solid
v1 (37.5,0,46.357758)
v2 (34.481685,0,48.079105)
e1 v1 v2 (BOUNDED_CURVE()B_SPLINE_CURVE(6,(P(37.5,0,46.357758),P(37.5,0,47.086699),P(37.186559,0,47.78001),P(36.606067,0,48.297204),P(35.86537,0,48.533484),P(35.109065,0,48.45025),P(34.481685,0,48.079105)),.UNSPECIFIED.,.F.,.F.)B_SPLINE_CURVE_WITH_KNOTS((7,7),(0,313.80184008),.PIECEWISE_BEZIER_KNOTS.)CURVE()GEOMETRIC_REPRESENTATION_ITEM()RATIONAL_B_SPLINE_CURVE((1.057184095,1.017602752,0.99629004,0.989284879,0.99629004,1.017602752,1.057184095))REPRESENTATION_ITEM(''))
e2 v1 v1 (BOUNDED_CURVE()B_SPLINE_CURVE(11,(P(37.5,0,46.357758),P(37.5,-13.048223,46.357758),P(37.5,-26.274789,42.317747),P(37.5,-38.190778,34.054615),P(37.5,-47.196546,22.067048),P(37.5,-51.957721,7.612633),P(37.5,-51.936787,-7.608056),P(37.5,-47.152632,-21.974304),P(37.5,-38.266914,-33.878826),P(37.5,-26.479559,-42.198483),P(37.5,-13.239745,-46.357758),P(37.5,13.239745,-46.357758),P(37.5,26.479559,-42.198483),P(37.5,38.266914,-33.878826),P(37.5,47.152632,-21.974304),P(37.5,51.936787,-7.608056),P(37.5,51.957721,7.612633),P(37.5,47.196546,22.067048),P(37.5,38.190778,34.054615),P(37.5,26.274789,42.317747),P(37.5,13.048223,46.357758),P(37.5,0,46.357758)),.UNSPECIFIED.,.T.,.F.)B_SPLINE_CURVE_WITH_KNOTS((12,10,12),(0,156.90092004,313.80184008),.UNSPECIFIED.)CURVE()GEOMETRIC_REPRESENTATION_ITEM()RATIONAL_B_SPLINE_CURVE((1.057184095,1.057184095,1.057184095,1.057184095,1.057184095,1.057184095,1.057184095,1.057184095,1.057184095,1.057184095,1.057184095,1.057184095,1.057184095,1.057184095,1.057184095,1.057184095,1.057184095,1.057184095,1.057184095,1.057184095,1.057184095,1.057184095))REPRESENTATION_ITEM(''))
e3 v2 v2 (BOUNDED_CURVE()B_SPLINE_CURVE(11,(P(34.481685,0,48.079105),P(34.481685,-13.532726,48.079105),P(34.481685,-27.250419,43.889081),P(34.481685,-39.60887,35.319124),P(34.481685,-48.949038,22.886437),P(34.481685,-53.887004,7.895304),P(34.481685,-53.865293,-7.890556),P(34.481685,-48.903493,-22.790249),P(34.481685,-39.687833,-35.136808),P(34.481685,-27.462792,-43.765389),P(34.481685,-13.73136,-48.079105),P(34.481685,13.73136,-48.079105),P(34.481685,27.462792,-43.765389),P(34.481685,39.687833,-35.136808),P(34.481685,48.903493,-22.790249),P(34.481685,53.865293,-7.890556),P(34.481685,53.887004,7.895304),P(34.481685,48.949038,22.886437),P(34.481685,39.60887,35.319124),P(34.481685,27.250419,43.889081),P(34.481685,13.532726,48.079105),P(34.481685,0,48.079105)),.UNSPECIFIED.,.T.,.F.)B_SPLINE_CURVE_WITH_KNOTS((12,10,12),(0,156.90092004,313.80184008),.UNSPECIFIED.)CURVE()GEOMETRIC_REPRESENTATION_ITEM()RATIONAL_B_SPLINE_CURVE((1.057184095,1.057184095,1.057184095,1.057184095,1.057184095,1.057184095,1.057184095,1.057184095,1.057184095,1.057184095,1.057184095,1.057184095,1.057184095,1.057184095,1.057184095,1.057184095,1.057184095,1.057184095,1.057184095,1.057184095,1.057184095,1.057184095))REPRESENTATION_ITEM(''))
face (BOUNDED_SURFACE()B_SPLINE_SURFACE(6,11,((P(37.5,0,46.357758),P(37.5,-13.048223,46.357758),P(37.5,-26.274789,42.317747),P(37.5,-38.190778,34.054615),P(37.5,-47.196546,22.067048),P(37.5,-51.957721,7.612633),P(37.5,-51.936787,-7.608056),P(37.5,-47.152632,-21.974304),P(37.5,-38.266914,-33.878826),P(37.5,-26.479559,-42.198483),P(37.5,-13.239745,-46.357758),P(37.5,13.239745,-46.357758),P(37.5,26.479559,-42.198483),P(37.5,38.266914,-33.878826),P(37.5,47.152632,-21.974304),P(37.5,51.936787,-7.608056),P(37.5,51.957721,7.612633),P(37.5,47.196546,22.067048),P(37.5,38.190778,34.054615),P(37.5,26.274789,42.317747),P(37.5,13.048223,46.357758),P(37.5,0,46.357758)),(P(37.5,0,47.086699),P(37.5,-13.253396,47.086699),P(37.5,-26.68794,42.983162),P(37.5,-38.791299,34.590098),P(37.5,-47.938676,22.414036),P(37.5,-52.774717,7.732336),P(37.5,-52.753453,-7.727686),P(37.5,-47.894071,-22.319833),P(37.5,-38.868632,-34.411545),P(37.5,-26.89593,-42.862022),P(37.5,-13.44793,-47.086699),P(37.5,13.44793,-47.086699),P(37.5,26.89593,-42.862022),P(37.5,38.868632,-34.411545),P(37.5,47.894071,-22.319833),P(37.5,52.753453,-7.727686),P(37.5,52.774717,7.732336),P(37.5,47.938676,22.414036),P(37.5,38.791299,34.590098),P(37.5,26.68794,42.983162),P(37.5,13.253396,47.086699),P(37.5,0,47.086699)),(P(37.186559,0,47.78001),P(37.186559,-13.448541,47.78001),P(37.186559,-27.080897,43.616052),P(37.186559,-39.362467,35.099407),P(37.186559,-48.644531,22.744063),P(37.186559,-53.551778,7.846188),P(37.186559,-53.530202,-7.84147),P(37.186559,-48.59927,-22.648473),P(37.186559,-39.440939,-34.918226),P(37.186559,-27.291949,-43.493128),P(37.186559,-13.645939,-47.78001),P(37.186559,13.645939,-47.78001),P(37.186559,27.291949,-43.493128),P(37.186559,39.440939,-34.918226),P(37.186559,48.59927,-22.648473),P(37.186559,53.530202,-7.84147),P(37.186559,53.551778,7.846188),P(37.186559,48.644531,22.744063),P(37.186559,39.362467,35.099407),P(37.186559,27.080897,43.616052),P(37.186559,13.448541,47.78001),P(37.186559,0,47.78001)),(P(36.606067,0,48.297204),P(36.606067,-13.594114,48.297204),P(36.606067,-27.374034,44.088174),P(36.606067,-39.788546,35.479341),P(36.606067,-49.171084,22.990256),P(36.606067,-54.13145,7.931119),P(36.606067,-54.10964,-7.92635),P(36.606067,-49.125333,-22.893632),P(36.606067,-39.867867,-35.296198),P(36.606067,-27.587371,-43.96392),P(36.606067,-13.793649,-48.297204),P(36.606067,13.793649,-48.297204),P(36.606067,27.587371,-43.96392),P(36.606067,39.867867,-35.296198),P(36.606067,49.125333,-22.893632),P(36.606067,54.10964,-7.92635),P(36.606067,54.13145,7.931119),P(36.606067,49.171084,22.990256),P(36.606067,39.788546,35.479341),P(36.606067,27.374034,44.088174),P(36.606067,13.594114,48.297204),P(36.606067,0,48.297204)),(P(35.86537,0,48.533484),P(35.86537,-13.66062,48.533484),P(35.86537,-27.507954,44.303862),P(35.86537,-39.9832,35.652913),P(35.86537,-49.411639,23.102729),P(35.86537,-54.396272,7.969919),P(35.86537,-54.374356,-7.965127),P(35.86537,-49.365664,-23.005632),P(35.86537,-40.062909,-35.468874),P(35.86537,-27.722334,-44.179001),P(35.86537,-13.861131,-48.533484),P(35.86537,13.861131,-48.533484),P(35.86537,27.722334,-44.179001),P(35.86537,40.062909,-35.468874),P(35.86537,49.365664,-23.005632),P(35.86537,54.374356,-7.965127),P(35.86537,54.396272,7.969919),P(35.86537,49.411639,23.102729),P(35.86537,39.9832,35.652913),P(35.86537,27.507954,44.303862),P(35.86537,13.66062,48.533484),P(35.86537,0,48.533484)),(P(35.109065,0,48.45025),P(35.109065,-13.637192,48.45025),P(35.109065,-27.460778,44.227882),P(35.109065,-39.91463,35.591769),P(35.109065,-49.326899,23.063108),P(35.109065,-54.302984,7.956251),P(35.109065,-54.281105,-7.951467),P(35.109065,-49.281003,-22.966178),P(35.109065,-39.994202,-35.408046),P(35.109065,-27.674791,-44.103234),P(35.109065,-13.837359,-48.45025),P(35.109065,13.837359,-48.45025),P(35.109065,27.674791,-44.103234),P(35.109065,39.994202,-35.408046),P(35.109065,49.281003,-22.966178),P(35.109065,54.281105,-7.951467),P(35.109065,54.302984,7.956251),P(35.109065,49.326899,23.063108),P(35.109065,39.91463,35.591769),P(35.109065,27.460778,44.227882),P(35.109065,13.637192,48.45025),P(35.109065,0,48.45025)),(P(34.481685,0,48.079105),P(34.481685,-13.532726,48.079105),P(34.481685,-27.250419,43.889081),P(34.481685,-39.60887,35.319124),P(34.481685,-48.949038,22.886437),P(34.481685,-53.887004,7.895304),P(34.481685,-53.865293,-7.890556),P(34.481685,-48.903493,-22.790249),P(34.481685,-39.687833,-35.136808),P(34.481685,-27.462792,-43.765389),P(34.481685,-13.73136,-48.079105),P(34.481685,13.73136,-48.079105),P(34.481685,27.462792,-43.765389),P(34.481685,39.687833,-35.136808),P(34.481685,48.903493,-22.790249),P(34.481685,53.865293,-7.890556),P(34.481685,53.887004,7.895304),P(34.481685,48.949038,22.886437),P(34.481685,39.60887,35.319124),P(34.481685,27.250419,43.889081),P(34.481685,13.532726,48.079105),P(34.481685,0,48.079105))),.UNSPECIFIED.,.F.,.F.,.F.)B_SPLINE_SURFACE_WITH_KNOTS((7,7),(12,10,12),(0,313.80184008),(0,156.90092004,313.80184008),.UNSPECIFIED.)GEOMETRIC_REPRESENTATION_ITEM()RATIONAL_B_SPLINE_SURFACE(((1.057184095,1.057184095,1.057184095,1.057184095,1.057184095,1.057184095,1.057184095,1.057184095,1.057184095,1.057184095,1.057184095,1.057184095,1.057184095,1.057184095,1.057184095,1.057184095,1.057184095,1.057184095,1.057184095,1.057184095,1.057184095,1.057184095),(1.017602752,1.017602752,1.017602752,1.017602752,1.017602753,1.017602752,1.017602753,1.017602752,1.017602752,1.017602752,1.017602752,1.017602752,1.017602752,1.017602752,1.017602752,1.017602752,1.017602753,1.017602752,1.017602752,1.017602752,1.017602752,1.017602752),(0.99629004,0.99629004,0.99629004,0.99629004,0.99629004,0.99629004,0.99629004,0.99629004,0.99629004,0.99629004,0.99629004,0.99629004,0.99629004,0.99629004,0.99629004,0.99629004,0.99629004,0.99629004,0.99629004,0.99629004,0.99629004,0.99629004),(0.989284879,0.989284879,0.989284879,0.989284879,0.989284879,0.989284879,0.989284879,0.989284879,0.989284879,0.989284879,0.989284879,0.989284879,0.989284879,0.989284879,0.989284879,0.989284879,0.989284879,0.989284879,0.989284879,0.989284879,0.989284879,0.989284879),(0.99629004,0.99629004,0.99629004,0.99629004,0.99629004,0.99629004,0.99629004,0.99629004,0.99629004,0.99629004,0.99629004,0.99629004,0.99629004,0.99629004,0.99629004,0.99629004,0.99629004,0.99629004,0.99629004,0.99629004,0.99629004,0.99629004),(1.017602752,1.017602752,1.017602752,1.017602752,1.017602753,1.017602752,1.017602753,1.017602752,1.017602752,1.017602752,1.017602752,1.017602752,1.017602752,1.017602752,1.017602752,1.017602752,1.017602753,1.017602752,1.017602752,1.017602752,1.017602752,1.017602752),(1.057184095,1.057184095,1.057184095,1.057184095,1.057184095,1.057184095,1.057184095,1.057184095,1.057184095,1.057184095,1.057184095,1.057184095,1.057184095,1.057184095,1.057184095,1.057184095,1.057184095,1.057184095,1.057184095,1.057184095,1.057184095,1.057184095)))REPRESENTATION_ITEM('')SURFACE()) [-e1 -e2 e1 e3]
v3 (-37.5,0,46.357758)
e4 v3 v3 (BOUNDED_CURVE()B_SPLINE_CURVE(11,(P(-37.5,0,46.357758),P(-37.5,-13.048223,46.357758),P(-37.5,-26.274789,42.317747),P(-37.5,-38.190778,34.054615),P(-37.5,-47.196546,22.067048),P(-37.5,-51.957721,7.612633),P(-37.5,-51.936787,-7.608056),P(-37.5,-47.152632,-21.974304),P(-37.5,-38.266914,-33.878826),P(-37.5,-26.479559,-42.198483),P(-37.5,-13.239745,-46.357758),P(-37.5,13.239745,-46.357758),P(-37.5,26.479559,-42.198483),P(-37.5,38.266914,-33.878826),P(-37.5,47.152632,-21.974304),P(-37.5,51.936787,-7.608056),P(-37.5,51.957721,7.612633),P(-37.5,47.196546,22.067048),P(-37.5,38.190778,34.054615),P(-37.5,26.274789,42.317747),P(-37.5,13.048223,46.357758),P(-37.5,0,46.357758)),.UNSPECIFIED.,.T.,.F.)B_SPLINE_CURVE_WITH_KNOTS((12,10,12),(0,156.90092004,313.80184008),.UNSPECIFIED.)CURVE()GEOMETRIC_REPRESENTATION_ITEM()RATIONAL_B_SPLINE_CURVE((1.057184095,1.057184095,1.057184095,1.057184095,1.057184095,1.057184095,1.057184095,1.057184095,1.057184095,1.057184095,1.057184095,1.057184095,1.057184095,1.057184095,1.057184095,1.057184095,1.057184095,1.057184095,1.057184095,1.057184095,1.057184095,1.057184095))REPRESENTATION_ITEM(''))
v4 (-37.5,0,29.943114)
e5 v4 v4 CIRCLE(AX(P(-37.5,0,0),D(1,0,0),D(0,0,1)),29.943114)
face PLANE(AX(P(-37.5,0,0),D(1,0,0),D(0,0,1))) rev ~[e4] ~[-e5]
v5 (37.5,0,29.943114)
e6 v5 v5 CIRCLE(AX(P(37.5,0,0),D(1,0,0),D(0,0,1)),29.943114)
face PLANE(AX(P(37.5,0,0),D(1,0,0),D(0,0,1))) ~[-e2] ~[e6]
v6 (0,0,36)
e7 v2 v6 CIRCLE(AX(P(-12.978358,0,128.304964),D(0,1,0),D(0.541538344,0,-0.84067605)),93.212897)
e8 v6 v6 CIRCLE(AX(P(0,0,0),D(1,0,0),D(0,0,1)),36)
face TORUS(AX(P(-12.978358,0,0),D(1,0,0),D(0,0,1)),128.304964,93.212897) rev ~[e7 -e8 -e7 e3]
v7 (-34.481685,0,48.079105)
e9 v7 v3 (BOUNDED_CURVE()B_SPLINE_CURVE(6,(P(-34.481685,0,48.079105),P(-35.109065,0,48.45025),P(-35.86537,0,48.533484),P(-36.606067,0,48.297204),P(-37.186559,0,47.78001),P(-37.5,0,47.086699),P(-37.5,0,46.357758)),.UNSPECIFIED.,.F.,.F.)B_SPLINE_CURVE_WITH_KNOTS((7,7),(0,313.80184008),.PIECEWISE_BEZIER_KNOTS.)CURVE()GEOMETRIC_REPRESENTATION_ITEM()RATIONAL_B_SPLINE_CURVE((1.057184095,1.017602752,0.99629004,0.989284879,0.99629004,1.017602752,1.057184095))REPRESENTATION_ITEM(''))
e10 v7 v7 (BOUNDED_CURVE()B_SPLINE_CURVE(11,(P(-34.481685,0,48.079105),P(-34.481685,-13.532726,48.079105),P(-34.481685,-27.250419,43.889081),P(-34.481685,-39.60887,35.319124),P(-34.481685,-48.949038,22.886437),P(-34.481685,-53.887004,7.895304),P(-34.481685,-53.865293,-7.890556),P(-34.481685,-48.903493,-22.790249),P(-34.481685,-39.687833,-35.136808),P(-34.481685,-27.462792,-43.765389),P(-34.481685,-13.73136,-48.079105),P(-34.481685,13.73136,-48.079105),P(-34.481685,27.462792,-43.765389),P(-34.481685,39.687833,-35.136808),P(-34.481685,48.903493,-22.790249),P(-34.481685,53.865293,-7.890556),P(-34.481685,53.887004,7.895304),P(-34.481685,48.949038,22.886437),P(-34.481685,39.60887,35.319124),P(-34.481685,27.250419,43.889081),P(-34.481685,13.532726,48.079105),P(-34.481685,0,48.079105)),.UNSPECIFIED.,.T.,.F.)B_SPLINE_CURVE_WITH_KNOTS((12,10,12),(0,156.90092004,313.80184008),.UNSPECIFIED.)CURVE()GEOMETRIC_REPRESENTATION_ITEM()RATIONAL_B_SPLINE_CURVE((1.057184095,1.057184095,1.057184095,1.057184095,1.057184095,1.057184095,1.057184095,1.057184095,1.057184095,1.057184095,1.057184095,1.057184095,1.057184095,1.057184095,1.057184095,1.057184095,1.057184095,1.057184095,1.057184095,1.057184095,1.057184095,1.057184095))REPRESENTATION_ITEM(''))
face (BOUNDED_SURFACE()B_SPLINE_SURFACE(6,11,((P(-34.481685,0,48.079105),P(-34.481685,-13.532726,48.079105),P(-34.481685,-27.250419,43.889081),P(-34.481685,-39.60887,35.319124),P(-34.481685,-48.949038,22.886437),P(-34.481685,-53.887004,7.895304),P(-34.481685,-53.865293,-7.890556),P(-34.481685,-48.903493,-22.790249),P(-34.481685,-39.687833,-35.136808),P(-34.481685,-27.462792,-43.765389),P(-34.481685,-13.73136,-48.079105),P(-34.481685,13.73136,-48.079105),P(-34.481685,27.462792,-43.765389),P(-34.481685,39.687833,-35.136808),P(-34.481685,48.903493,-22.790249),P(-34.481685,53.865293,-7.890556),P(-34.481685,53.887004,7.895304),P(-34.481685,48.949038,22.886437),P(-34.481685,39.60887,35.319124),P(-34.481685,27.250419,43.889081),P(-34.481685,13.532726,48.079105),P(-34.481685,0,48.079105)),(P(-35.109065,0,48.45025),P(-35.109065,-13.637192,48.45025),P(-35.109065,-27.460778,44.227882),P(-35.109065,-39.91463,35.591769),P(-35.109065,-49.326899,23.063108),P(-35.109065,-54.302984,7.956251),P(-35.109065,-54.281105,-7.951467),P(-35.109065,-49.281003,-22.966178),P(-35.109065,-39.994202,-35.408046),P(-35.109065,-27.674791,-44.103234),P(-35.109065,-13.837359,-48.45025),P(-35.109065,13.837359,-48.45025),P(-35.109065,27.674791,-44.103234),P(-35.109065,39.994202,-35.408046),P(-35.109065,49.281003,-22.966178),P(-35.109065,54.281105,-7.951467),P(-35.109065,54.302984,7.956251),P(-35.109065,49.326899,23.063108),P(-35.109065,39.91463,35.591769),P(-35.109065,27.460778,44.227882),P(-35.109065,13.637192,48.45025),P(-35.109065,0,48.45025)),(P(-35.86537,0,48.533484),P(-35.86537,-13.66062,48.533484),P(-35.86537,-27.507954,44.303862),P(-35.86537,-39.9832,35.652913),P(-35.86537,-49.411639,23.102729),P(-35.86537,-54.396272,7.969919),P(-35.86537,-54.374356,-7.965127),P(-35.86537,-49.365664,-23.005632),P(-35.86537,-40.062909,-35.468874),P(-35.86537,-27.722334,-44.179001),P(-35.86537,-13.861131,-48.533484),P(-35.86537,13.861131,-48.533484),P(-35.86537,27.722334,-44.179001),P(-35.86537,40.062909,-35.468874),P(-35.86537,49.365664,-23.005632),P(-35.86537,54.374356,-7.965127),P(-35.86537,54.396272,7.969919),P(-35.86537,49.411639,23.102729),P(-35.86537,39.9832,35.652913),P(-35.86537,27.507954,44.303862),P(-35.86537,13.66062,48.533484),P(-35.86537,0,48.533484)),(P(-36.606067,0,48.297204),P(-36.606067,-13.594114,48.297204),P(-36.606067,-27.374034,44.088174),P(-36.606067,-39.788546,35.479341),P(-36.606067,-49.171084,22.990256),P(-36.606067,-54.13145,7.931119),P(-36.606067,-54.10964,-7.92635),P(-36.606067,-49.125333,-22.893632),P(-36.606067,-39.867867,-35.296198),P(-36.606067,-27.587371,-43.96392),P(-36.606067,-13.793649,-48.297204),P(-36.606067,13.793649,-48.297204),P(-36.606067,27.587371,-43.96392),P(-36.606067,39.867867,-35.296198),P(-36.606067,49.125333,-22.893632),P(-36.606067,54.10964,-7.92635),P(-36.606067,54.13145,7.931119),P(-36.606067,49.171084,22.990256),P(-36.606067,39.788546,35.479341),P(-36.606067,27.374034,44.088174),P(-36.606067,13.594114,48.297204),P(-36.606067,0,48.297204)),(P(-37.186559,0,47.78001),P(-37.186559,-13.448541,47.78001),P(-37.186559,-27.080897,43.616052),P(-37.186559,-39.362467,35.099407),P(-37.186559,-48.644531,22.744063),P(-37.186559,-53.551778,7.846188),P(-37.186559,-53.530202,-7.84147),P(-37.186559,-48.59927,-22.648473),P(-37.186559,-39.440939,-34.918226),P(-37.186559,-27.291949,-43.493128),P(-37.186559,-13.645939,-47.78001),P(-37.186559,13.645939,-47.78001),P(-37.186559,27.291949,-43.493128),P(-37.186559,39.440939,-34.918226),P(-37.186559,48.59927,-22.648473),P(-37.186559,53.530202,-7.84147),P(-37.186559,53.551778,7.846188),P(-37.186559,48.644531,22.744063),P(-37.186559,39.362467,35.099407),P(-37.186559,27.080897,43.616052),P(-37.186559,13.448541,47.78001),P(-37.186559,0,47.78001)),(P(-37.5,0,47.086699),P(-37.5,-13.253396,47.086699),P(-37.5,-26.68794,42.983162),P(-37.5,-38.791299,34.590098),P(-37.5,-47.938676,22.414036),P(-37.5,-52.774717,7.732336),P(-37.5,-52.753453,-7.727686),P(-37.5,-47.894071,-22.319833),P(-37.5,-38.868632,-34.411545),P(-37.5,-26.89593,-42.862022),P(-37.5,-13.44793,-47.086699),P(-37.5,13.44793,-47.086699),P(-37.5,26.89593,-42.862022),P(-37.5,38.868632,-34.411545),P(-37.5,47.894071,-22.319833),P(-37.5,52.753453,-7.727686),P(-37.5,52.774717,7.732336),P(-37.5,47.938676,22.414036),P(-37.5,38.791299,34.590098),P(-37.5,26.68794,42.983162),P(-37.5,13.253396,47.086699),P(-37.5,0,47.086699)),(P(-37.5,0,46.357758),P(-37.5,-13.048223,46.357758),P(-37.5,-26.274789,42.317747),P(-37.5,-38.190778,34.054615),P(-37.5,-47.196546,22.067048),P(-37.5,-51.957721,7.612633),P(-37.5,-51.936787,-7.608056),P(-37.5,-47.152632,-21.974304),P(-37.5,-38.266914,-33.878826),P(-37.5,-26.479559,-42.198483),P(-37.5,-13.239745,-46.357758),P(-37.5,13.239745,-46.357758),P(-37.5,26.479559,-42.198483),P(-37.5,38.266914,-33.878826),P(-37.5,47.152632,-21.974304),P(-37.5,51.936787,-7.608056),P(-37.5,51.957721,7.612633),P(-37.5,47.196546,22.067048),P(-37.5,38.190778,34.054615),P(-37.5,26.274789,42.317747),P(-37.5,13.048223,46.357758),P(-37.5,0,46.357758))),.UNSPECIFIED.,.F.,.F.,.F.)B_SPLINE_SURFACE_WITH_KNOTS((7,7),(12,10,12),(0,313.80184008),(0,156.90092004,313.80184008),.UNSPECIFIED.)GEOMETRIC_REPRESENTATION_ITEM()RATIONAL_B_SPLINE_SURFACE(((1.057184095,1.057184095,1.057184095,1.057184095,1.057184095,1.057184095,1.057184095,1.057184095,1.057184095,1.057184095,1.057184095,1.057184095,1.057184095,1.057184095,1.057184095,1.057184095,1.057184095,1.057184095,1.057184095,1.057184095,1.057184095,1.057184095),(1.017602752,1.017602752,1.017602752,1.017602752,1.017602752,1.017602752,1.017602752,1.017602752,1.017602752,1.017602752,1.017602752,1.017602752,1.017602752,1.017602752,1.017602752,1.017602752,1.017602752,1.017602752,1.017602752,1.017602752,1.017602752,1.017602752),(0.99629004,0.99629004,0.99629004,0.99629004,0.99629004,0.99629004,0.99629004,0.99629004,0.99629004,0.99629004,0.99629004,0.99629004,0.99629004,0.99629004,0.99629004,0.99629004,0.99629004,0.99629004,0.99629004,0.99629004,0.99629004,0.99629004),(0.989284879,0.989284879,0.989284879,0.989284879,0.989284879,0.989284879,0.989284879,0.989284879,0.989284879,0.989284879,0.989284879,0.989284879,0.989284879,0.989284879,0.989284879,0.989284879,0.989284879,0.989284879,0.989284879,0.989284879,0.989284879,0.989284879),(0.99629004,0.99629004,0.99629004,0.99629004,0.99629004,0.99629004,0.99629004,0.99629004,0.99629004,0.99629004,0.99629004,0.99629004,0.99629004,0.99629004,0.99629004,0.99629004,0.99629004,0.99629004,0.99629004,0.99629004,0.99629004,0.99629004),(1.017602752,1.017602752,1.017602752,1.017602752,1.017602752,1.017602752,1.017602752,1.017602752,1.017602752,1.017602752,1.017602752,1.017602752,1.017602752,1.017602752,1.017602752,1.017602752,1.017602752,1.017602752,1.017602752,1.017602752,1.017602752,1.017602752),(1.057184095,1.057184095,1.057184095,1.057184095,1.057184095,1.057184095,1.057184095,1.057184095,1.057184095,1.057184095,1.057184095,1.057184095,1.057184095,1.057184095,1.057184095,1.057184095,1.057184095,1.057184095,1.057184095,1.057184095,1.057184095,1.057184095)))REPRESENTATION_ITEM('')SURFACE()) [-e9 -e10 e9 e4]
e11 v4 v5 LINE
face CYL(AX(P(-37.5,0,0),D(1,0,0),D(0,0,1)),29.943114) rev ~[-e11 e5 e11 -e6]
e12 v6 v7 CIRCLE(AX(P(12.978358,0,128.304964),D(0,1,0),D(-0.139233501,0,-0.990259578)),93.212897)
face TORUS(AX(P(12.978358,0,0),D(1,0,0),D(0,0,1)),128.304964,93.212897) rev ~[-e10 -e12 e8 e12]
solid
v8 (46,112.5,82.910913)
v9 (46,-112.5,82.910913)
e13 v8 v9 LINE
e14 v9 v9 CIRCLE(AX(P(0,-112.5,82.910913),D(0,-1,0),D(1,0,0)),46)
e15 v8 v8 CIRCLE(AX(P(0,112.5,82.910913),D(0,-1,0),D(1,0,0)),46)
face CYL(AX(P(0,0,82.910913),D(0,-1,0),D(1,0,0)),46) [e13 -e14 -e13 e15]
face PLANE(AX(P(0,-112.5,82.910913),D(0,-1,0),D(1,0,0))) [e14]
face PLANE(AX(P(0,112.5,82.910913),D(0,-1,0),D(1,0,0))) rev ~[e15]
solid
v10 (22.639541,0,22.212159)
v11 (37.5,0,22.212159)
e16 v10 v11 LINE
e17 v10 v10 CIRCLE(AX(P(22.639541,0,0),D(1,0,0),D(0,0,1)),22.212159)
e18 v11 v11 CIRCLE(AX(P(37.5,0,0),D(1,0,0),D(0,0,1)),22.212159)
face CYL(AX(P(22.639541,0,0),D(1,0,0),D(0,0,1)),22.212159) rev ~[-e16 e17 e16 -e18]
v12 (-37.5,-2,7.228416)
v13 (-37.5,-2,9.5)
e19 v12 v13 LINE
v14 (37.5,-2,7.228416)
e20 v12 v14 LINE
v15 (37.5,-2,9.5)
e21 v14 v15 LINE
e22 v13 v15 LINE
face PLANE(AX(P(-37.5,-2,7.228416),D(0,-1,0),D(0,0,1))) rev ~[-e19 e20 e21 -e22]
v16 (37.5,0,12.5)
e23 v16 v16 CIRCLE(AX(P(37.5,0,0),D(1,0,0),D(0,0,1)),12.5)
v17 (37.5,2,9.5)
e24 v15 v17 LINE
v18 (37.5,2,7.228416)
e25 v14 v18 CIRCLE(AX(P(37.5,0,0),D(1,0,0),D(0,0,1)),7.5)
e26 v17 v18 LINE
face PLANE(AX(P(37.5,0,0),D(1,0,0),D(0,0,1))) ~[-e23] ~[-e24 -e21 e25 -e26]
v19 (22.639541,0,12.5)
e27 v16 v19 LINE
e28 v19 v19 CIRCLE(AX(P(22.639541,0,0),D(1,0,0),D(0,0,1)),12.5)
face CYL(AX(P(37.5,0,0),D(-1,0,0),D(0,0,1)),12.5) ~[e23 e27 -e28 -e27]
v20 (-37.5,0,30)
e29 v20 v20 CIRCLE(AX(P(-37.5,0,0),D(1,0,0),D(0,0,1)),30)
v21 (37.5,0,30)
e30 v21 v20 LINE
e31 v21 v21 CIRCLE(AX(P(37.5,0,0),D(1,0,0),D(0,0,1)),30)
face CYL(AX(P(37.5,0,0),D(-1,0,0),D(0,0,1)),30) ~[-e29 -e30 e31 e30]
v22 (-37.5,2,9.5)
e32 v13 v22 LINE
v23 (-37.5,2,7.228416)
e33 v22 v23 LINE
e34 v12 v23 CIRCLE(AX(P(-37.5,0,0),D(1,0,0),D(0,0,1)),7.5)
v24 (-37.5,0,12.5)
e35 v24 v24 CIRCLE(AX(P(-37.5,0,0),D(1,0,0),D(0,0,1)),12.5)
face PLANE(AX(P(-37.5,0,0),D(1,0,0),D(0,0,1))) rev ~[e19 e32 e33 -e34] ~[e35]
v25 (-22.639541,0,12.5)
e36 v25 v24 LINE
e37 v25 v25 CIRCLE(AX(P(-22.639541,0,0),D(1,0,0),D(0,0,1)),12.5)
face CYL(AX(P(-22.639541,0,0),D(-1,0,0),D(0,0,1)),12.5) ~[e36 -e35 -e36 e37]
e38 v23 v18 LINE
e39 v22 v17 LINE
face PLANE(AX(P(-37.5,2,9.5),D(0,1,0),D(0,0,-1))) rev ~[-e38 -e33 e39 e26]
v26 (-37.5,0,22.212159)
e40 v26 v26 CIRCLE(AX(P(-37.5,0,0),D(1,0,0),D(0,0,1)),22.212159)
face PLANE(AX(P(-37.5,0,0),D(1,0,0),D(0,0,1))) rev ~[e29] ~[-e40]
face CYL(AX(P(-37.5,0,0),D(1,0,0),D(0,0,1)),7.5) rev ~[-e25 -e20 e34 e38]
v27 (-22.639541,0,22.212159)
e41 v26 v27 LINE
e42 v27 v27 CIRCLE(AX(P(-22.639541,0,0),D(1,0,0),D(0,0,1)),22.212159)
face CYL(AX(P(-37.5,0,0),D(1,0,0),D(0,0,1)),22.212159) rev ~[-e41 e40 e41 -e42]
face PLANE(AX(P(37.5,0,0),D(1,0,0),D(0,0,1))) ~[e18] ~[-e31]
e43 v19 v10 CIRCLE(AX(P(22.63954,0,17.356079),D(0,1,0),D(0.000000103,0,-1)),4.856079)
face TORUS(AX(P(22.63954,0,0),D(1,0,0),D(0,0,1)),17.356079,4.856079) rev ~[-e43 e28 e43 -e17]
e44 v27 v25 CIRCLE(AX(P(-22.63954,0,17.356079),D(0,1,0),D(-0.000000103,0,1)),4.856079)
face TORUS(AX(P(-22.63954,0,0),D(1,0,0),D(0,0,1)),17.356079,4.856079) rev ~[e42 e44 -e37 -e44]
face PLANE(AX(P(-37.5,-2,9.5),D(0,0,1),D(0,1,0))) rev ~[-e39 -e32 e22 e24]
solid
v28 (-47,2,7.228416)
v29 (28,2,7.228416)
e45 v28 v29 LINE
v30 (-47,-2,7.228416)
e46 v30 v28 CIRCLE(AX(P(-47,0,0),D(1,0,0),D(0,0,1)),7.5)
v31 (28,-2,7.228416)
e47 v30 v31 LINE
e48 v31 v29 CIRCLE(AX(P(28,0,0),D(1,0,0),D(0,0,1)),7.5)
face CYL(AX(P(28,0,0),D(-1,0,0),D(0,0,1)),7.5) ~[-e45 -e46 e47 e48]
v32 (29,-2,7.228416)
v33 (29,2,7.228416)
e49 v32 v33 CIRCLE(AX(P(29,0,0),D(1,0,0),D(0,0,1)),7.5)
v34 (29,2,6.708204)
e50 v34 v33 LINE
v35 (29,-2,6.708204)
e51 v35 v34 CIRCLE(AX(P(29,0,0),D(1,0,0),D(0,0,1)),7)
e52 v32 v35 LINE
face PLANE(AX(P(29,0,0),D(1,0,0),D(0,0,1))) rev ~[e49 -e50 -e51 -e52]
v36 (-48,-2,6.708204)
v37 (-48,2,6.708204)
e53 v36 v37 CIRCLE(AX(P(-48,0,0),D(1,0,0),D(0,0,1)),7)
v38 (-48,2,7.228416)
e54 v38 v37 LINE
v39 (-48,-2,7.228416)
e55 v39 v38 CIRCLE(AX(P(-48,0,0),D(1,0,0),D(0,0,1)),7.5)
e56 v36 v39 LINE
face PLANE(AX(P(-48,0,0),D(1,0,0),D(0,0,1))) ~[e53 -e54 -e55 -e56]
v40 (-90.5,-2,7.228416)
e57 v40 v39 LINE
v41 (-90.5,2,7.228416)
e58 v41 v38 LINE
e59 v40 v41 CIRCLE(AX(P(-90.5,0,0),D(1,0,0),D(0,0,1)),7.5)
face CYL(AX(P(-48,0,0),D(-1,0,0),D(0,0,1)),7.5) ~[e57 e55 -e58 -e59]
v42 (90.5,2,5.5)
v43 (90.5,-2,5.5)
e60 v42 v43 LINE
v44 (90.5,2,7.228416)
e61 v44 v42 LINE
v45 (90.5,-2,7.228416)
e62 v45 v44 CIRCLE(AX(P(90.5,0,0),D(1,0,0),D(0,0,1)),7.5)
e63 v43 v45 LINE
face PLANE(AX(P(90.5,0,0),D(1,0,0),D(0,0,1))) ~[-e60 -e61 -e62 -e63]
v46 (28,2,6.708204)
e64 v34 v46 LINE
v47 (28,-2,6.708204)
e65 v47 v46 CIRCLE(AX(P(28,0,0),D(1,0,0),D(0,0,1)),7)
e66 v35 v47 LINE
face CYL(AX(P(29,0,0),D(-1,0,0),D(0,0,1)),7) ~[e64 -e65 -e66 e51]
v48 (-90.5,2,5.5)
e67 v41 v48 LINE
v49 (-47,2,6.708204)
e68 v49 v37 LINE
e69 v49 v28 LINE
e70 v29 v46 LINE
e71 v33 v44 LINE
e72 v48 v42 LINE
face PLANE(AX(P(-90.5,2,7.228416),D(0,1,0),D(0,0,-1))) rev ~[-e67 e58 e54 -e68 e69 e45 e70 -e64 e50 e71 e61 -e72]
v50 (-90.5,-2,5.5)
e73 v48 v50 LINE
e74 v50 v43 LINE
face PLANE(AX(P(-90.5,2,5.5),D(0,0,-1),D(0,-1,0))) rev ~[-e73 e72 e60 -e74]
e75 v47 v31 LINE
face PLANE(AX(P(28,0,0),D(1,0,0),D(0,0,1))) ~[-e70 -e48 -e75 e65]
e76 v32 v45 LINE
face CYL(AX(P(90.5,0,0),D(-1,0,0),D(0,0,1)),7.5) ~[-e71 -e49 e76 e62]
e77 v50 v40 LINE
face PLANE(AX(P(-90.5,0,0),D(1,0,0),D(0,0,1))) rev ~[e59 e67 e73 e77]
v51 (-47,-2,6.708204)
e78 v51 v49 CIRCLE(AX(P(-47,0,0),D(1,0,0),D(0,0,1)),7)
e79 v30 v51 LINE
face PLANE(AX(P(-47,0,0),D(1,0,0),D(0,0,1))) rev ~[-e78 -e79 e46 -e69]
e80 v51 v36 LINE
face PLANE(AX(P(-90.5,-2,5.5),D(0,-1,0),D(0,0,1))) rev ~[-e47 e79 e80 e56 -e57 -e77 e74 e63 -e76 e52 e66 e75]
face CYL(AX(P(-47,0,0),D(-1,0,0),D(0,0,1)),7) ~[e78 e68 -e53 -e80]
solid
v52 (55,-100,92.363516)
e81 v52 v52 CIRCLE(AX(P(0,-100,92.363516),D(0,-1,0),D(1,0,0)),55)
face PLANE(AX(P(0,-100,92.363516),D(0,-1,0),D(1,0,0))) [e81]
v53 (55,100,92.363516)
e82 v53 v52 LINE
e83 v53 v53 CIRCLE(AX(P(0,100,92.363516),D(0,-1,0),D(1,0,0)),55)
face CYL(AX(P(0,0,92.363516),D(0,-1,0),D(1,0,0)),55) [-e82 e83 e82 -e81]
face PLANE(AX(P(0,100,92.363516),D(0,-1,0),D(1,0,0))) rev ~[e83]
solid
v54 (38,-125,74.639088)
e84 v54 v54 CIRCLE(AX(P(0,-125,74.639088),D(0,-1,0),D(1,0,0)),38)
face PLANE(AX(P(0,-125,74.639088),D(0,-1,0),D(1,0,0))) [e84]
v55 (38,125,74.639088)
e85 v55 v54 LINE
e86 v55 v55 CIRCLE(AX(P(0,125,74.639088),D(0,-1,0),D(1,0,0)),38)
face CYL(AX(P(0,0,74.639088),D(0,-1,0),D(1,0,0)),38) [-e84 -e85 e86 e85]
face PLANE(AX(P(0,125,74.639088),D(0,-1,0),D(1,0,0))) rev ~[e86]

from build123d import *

# Parameters (mm, degrees)
F3_DEPTH  = 181.001
F7_DEPTH  = 128.001
F10_R     = 2
F11_R     = 38
F12_DEPTH = 125
F13_R     = 46
F14_DEPTH = 112.5
F15_R     = 55
F16_DEPTH = 100


with BuildPart() as f1:
    # F0 (on Front) → F1 (revolve)
    with BuildSketch(Plane.XZ):
        Polygon((-90.5, 7.5), (-90.5, 0), (90.5, 0), (90.5, 7.5), (29, 7.5), (29, 7), (28, 7), (28, 7.5), (-47, 7.5), (-47, 7), (-48, 7), (-48, 7.5), align=None)
    revolve(axis=Axis((0, 0, 0), (1, 0, 0)))

    # F2 (on face) → F3 (cut, through all)
    with BuildSketch(Plane(origin=(-90.5, 0, 0), x_dir=(0, -1, 0), z_dir=(-1, 0, 0))):
        with BuildLine():
            ThreePointArc((2, 7.228416), (0, 7.5), (-2, 7.228416))
            Line((-2, 7.228416), (-2, 5.5))
            Line((-2, 5.5), (2, 5.5))
            Line((2, 5.5), (2, 7.228416))
        make_face()
    extrude(amount=-F3_DEPTH, mode=Mode.SUBTRACT)


with BuildPart() as f5:
    # F4 (on Front) → F5 (revolve)
    with BuildSketch(Plane.XZ):
        with BuildLine():
            Line((-37.5, 7.5), (0, 7.5))
            Line((0, 7.5), (37.5, 7.5))
            Line((37.5, 7.5), (37.5, 12.5))
            Line((37.5, 12.5), (22.639541, 12.5))
            ThreePointArc((22.639541, 12.5), (17.783461, 17.35608), (22.639541, 22.212159))
            Line((22.639541, 22.212159), (37.5, 22.212159))
            Line((37.5, 22.212159), (37.5, 30))
            Line((37.5, 30), (0, 30))
            Line((0, 30), (-37.5, 30))
            Line((-37.5, 30), (-37.5, 22.212159))
            Line((-37.5, 22.212159), (-22.639541, 22.212159))
            ThreePointArc((-22.639541, 22.212159), (-17.783461, 17.35608), (-22.639541, 12.5))
            Line((-22.639541, 12.5), (-37.5, 12.5))
            Line((-37.5, 12.5), (-37.5, 7.5))
        make_face()
    revolve(axis=Axis((0, 0, 0), (1, 0, 0)))

    # F6 (on face) → F7 (cut, through all)
    with BuildSketch(Plane(origin=(-37.5, 0, 0), x_dir=(0, -1, 0), z_dir=(-1, 0, 0))):
        with BuildLine():
            Line((2, 9.5), (-2, 9.5))
            Line((-2, 9.5), (-2, 7.228416))
            ThreePointArc((-2, 7.228416), (0, 7.5), (2, 7.228416))
            Line((2, 7.228416), (2, 9.5))
        make_face()
    extrude(amount=-F7_DEPTH, mode=Mode.SUBTRACT)


with BuildPart() as f9:
    # F8 (on Front) → F9 (revolve)
    with BuildSketch(Plane.XZ):
        with BuildLine():
            Line((-37.5, 29.943114), (0, 29.943114))
            Line((0, 29.943114), (37.5, 29.943114))
            Line((37.5, 29.943114), (37.5, 49.943114))
            ThreePointArc((37.5, 49.943114), (19.50689, 40.935903), (0, 36))
            ThreePointArc((0, 36), (-19.50689, 40.935903), (-37.5, 49.943114))
            Line((-37.5, 49.943114), (-37.5, 29.943114))
        make_face()
    revolve(axis=Axis((0, 0, 0), (1, 0, 0)))

    # F10
    f10_edges = [f9.edges().sort_by_distance(p)[0] for p in [
        (-37.5, 0, -49.943114),
        (37.5, 0, -49.943114),
    ]]
    fillet(f10_edges, radius=F10_R)


with BuildPart() as f12:
    # F11 (on Front) → F12 (new body, symmetric)
    with BuildSketch(Plane.XZ):
        with Locations((0, 74.639088)):
            Circle(F11_R)
    extrude(amount=F12_DEPTH, both=True)


with BuildPart() as f14:
    # F13 (on Front) → F14 (new body, symmetric)
    with BuildSketch(Plane.XZ):
        with Locations((0, 82.910913)):
            Circle(F13_R)
    extrude(amount=F14_DEPTH, both=True)


with BuildPart() as f16:
    # F15 (on Front) → F16 (new body, symmetric)
    with BuildSketch(Plane.XZ):
        with Locations((0, 92.363516)):
            Circle(F15_R)
    extrude(amount=F16_DEPTH, both=True)


solid = Compound([f1.part, f5.part, f9.part, f12.part, f14.part, f16.part])
